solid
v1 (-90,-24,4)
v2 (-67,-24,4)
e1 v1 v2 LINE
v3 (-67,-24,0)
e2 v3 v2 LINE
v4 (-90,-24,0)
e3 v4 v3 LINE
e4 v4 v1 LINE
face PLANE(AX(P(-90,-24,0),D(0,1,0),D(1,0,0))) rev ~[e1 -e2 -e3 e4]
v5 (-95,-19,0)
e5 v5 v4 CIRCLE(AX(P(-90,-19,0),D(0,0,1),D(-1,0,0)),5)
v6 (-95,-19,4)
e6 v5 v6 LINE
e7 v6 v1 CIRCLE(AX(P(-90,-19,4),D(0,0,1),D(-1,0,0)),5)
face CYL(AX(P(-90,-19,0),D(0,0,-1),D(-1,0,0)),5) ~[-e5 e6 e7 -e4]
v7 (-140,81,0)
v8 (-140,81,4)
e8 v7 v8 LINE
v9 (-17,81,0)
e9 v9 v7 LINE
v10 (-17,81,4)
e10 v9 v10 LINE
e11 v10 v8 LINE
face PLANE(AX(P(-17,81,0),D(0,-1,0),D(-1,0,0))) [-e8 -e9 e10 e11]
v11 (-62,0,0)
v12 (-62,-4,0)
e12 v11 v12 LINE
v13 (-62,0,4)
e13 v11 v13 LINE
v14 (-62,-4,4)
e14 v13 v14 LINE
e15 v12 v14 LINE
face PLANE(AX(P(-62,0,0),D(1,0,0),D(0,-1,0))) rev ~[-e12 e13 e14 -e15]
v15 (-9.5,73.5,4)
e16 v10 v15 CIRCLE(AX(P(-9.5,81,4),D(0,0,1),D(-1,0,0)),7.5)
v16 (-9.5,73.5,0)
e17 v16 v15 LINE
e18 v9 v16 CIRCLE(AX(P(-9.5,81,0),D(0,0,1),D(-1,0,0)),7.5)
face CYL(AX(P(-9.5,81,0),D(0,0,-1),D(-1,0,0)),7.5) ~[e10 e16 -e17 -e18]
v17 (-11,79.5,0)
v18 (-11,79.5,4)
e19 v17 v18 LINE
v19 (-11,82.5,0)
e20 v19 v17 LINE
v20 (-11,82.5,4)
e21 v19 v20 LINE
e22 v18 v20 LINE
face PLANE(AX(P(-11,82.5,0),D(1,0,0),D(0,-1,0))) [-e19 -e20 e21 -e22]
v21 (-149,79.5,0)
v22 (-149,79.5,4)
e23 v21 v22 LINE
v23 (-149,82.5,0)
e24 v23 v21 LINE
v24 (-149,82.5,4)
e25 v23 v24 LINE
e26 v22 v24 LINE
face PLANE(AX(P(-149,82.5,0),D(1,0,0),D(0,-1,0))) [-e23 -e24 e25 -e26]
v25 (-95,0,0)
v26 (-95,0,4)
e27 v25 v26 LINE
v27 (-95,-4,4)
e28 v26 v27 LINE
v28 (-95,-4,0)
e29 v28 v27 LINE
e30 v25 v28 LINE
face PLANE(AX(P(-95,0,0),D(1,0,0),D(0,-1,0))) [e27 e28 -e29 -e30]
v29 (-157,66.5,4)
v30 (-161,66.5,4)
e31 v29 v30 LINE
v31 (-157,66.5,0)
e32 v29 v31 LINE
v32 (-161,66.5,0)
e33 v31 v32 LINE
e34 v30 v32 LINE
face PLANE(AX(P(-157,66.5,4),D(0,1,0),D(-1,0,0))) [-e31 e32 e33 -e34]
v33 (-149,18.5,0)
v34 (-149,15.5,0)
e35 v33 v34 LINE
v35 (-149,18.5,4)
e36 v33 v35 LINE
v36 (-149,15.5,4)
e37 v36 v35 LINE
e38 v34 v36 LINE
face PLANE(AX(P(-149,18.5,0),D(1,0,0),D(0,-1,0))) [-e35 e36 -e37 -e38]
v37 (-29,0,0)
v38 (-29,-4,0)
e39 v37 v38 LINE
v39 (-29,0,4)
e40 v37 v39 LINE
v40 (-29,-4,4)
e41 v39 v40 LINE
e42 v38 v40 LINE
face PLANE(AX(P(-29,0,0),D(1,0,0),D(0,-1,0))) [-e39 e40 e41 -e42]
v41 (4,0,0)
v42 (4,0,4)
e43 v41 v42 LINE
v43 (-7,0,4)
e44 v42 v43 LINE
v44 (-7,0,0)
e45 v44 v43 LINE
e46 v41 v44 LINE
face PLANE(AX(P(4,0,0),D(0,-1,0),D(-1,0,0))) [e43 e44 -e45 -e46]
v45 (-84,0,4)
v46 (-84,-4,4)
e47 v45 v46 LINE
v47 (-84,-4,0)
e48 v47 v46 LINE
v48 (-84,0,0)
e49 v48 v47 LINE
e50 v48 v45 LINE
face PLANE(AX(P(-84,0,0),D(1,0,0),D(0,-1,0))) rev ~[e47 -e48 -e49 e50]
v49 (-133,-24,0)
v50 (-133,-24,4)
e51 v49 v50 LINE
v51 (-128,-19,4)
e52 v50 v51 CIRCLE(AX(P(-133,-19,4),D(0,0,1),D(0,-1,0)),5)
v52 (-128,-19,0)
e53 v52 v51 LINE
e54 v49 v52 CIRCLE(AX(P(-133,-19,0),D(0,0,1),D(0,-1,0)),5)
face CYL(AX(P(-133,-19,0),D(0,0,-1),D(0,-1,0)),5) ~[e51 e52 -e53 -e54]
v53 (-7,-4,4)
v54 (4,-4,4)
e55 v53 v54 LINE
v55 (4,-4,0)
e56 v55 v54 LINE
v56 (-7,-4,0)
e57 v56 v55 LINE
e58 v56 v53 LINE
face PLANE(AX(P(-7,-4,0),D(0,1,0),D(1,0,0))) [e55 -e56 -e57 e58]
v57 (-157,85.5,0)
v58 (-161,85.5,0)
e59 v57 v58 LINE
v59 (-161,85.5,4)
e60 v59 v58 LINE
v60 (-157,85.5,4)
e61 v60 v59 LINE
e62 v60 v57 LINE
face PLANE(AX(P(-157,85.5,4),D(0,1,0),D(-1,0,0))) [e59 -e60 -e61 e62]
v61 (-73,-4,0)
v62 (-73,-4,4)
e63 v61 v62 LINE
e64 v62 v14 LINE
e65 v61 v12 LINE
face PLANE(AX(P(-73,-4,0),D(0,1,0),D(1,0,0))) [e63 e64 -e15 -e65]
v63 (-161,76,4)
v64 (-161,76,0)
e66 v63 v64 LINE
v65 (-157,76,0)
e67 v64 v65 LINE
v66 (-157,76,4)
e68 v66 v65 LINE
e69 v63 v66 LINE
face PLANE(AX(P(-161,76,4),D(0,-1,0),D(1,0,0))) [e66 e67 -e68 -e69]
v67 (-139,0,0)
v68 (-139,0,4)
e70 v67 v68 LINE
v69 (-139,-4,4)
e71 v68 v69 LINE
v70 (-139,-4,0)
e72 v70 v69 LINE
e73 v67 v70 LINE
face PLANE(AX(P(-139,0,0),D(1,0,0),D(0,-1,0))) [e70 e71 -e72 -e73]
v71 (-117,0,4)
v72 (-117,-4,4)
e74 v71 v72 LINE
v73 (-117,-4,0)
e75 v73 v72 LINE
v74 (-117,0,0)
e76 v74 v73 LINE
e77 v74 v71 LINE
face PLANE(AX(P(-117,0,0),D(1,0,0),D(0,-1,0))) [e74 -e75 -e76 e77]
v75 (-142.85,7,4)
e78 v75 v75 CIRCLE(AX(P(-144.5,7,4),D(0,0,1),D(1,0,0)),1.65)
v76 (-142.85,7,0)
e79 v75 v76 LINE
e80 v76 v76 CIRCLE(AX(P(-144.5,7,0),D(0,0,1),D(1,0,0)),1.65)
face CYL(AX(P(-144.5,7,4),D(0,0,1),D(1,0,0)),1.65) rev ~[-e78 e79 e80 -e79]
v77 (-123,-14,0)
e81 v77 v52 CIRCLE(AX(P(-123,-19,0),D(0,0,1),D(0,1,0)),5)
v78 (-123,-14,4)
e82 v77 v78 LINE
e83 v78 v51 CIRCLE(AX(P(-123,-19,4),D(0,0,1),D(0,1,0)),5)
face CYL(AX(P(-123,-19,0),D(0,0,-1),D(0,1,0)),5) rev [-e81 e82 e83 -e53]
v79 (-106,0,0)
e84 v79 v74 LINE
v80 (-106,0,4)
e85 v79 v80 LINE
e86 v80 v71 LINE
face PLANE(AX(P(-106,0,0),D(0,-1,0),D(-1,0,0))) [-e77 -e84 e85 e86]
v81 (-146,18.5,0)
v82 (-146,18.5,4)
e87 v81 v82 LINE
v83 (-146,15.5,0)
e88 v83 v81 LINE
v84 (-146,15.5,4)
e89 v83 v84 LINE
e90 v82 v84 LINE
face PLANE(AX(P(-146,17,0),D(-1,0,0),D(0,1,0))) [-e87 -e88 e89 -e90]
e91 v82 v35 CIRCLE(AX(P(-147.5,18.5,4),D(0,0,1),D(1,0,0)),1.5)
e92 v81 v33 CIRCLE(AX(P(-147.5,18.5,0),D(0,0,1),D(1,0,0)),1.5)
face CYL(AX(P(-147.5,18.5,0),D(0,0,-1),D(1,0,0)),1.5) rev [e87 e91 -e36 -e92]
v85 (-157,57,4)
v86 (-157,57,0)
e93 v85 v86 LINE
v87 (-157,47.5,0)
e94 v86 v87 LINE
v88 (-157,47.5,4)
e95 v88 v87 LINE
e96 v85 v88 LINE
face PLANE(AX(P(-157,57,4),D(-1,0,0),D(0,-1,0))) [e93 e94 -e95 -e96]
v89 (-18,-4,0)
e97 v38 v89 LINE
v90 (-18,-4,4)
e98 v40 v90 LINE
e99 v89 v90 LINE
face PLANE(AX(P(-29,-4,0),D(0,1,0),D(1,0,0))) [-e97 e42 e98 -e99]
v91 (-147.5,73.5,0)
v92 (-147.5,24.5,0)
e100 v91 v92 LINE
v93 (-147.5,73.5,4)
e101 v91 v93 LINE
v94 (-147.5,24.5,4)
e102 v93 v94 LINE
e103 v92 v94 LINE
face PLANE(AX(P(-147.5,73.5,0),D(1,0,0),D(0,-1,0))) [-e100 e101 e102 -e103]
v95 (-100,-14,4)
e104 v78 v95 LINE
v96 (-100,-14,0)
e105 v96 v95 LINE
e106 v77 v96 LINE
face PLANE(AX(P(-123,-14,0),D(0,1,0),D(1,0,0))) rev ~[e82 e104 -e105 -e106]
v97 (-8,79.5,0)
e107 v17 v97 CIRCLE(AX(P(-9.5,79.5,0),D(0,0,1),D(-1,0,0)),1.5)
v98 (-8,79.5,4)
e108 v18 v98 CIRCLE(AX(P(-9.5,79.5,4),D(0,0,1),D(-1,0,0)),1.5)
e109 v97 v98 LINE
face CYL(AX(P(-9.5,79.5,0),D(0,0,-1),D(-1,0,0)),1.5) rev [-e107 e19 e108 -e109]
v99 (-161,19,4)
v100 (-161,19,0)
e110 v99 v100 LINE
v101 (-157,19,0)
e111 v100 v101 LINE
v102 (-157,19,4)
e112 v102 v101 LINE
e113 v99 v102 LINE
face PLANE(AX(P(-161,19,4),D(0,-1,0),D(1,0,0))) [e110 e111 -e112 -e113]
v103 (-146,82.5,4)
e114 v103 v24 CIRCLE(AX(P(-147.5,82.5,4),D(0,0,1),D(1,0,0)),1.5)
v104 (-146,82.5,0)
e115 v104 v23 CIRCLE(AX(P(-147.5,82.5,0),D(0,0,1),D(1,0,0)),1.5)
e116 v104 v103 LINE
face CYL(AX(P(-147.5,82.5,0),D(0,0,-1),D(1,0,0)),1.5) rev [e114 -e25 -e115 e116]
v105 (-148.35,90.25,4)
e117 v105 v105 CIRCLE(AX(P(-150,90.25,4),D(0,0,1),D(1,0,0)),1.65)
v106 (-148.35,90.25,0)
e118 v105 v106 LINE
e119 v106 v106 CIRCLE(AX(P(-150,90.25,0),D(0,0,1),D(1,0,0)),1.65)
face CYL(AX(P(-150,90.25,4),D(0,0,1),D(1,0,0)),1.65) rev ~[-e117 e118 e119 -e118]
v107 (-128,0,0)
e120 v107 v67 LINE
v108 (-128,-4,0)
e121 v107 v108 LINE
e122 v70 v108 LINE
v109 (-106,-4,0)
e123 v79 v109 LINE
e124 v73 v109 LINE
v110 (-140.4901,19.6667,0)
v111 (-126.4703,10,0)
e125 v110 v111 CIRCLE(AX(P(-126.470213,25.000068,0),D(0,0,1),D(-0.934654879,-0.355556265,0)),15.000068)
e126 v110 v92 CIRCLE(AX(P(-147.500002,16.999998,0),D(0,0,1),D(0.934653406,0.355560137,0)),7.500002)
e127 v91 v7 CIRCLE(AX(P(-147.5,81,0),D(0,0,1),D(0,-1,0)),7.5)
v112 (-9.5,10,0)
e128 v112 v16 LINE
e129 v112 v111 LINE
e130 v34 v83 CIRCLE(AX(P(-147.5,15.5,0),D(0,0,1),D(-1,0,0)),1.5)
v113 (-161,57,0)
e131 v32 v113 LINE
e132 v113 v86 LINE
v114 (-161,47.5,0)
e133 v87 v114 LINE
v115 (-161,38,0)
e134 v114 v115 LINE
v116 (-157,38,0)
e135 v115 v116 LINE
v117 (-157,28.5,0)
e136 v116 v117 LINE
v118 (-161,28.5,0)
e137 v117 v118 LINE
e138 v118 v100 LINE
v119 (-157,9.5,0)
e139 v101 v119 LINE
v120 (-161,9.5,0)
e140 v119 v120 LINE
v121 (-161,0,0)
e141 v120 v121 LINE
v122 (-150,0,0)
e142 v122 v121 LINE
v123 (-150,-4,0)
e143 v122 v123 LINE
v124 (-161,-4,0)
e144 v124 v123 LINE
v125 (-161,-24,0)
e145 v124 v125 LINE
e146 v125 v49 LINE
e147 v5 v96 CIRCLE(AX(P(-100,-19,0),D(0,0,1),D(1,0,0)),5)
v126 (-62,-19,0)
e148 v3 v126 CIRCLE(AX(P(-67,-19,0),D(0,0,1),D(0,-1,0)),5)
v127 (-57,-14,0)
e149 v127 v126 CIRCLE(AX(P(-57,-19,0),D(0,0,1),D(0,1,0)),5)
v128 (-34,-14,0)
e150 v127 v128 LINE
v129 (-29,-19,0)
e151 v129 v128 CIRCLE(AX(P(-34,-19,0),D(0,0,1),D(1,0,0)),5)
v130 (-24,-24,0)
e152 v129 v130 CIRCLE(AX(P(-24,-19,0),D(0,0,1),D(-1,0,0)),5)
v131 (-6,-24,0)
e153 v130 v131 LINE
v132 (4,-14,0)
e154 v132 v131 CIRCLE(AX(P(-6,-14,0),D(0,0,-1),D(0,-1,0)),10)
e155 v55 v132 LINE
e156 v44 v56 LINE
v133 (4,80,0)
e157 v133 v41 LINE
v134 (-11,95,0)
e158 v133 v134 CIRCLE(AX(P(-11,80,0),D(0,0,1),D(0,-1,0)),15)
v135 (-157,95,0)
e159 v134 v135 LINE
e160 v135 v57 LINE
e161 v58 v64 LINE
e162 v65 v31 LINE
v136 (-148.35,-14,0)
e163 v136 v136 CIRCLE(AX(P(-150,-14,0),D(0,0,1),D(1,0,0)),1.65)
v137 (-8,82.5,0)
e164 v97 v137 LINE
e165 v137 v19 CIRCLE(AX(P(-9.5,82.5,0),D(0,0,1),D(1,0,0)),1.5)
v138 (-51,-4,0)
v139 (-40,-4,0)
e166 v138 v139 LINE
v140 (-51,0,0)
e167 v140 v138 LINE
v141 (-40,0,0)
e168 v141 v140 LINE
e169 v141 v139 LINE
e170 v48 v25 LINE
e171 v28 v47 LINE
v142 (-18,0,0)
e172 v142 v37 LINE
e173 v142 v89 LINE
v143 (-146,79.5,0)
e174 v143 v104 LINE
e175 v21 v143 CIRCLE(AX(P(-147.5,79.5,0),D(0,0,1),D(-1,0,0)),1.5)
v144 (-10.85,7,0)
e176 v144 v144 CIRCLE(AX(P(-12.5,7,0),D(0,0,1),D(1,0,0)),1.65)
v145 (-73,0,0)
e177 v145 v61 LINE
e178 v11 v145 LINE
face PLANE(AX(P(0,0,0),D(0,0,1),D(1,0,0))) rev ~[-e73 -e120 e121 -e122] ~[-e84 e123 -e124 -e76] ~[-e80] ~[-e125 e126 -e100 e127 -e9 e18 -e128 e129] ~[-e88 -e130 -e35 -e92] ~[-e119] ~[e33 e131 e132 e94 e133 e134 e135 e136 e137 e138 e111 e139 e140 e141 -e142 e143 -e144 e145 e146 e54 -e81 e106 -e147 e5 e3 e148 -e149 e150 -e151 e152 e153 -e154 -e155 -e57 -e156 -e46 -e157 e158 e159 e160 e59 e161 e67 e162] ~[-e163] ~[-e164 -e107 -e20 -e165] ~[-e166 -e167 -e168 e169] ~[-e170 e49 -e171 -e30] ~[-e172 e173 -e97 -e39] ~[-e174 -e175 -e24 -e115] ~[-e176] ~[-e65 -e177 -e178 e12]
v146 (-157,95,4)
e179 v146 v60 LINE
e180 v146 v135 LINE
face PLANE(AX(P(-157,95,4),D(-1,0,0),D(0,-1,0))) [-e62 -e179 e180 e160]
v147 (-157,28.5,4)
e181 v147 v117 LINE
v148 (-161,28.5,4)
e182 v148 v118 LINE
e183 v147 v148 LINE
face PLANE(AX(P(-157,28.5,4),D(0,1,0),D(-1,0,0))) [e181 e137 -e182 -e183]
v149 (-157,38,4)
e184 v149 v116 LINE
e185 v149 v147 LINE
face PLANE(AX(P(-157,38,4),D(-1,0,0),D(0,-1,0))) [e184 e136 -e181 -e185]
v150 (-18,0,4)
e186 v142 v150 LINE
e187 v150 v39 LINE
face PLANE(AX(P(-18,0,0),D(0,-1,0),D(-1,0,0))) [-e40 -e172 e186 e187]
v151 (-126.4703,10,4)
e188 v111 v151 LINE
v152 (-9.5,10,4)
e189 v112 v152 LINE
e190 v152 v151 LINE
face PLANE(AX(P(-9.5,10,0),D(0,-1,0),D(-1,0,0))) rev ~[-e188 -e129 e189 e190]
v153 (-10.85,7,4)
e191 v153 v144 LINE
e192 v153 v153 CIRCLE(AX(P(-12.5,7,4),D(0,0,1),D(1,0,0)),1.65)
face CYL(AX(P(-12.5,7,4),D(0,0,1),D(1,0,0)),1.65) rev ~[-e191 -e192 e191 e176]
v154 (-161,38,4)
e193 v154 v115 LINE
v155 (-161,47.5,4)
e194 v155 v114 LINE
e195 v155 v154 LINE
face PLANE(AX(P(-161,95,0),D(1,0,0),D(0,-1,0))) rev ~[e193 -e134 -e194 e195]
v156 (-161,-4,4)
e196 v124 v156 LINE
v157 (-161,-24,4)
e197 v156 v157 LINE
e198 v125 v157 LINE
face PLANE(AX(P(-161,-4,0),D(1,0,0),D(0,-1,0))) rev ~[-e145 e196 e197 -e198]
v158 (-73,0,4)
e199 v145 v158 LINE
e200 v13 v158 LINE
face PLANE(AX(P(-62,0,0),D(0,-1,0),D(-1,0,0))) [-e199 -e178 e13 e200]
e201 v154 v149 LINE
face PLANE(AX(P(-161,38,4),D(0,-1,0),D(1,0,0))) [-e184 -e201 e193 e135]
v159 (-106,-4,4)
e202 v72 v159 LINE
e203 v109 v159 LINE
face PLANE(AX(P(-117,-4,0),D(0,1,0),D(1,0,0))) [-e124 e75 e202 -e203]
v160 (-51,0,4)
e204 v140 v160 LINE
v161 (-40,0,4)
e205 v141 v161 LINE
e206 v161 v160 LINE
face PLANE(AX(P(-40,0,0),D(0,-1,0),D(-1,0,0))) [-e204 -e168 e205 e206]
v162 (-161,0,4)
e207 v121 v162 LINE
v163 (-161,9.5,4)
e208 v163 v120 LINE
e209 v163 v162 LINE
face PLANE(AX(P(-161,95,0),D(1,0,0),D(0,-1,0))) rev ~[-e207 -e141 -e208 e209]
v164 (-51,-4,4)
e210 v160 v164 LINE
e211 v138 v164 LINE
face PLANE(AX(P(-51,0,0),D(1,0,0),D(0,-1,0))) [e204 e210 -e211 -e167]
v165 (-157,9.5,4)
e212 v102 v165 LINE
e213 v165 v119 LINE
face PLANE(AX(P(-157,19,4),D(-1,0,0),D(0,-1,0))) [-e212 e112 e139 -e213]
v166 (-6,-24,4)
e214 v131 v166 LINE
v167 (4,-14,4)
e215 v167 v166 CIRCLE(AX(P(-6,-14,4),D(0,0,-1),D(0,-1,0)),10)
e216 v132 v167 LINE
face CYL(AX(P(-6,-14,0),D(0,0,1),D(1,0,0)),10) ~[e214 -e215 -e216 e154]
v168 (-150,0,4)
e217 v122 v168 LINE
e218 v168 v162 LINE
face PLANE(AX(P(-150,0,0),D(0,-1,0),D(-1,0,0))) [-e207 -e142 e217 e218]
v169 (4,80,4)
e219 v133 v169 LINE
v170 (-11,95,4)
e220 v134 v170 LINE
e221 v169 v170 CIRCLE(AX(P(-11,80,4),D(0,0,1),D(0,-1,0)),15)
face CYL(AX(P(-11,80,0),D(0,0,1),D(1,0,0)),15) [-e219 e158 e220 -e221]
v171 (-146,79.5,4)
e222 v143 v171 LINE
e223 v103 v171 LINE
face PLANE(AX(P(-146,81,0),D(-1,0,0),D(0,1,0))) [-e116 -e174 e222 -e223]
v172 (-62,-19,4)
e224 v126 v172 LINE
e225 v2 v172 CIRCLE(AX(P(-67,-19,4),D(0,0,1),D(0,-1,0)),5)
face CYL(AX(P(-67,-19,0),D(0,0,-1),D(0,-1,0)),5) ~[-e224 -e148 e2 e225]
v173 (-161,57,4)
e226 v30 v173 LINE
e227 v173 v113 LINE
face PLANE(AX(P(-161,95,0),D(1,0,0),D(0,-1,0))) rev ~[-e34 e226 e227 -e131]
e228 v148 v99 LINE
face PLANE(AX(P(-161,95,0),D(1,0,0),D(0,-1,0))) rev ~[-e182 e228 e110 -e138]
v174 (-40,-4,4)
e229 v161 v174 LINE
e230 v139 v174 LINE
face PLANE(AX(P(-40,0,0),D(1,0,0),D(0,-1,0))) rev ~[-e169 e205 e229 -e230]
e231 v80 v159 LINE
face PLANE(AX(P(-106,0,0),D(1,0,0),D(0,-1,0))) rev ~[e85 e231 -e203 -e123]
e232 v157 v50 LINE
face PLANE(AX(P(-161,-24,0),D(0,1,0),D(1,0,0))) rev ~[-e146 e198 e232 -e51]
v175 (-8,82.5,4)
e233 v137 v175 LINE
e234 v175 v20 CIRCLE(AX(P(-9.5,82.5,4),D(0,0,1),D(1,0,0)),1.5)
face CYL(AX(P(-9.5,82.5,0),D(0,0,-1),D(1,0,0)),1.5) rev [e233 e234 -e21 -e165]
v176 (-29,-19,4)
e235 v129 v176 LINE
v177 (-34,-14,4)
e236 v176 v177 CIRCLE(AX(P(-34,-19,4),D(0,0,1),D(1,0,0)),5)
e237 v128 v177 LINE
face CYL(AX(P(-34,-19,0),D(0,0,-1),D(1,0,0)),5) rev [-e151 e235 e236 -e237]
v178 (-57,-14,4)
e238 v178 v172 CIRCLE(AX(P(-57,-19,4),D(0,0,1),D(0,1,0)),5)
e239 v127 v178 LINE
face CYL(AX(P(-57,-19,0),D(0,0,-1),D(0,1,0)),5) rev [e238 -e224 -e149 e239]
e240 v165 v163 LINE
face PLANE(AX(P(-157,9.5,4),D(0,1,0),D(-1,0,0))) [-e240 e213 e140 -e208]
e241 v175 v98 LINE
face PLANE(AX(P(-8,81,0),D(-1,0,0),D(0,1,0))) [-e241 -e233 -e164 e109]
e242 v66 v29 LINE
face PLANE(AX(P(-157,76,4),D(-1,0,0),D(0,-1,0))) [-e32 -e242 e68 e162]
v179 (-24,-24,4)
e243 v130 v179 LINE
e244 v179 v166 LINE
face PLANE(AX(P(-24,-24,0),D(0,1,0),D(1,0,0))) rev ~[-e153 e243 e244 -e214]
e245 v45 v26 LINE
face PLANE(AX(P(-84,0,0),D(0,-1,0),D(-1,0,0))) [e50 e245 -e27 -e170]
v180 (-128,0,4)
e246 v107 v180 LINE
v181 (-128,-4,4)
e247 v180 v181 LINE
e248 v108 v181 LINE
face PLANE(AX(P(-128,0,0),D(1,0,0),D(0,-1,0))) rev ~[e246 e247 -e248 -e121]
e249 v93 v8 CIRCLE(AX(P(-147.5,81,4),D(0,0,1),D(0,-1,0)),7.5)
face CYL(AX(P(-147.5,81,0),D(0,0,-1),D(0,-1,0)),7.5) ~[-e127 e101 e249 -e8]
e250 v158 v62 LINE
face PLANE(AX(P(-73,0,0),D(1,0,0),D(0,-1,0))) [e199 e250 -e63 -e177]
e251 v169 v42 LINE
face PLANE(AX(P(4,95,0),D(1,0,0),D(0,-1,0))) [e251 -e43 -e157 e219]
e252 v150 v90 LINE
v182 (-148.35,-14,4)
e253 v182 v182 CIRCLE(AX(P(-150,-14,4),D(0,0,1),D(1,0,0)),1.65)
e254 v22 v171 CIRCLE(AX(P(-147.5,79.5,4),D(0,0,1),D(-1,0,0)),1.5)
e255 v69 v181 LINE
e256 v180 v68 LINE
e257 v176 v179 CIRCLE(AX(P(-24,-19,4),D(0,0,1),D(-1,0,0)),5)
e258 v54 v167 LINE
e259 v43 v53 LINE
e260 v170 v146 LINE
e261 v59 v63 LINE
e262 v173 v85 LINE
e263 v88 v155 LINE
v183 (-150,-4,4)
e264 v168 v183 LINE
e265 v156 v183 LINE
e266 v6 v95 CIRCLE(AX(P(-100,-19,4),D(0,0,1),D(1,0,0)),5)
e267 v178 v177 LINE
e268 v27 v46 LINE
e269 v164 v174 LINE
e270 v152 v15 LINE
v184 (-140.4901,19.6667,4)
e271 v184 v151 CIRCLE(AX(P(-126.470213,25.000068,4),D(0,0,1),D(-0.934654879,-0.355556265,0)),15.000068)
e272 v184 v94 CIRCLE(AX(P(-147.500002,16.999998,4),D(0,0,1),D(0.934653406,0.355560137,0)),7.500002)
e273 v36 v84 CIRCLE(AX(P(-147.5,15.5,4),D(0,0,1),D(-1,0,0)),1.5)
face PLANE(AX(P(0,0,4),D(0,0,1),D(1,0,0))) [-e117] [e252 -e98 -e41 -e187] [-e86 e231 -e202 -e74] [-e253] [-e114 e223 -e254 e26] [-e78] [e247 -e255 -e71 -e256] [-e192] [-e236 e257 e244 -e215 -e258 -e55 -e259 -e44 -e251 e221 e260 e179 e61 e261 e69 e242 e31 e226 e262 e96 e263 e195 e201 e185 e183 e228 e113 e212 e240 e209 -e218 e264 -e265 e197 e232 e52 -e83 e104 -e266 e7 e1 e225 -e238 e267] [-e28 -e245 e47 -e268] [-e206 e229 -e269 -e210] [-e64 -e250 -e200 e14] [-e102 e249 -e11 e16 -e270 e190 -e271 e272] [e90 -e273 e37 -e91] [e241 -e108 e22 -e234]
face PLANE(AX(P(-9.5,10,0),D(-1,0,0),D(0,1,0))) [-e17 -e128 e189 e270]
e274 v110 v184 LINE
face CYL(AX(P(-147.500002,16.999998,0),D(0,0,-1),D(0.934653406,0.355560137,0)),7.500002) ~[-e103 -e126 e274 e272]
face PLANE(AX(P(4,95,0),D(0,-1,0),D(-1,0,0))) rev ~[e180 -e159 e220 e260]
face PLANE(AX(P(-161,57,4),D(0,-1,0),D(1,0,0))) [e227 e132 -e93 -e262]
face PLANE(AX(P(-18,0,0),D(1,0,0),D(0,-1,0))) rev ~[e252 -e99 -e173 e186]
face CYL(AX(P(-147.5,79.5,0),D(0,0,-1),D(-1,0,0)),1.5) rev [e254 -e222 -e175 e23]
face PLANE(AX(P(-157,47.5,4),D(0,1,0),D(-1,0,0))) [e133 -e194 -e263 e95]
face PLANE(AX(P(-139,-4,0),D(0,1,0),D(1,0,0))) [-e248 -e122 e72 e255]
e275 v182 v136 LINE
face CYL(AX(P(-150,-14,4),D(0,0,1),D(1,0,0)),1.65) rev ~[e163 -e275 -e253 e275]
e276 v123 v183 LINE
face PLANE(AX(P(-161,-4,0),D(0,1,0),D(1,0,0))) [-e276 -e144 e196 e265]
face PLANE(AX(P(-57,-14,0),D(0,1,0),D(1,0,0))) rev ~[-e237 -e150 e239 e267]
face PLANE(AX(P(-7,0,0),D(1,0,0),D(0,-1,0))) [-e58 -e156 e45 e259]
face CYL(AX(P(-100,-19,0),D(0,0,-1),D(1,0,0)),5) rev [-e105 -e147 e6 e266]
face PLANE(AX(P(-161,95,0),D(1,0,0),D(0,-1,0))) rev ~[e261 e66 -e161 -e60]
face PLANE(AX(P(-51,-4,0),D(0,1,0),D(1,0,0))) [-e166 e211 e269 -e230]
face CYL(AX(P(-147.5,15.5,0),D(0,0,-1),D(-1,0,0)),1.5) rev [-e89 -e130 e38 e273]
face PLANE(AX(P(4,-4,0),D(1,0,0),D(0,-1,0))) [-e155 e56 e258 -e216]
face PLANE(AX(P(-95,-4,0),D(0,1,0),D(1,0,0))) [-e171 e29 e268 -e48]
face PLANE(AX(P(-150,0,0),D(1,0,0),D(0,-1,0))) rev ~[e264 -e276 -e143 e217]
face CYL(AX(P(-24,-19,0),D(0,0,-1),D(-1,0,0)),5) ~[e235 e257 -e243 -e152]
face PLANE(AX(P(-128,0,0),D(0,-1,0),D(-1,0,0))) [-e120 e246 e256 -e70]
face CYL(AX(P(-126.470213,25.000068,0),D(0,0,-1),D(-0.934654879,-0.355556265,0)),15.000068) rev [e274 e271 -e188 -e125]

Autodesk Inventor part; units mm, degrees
ref_plane "YZ Plane" through (0, 0, 0) normal (1, 0, 0) x (0, 1, 0)
ref_plane "XZ Plane" through (0, 0, 0) normal (0, 1, 0) x (-1, 0, 0)
ref_plane "XY Plane" through (0, 0, 0) normal (0, 0, 1) x (1, 0, 0)
sketch "Schizzo1" plane through (0, 0, 0) normal (0, 0, 1) x (1, 0, 0)
  line L0 (-152.5, 86) -> (-2.5, 86) construction
  line L1 (-152.5, 0) -> (-152.5, 86) construction
  line L2 (-2.5, 0) -> (-2.5, 86) construction
  circle A0 centre (-9.5, 81) radius 1.5 projected
  circle A1 centre (-147.5, 81) radius 1.5 projected
  circle A2 centre (-147.5, 17) radius 1.5 projected
  line L3 (4, 95) -> (-161, 95)
  line L4 (-161, -24) -> (-133, -24)
  line L5 (-128, -19) -> (-128, -19)
  line L6 (-123, -14) -> (-100, -14)
  line L7 (-95, -19) -> (-95, -19)
  line L8 (-90, -24) -> (-67, -24)
  line L9 (-62, -19) -> (-62, -19)
  line L10 (-57, -14) -> (-34, -14)
  line L11 (-29, -19) -> (-29, -19)
  line L12 (-24, -24) -> (4, -24)
  arc A3 (-133, -24) -> (-128, -19) centre (-133, -19) ccw
  arc A4 (-123, -14) -> (-128, -19) centre (-123, -19) ccw
  arc A5 (-95, -19) -> (-100, -14) centre (-100, -19) ccw
  arc A6 (-95, -19) -> (-90, -24) centre (-90, -19) ccw
  arc A7 (-67, -24) -> (-62, -19) centre (-67, -19) ccw
  arc A8 (-57, -14) -> (-62, -19) centre (-57, -19) ccw
  arc A9 (-29, -19) -> (-34, -14) centre (-34, -19) ccw
  arc A10 (-29, -19) -> (-24, -24) centre (-24, -19) ccw
  arc A11 (-17, 81) -> (-9.5, 73.5) centre (-9.5, 81) ccw
  arc A12 (-147.5, 73.5) -> (-140, 81) centre (-147.5, 81) ccw
  arc A13 (-140.4901, 19.6667) -> (-147.5, 24.5) centre (-147.5, 17) ccw
  line L13 (-147.5, 73.5) -> (-147.5, 24.5)
  line L14 (-17, 81) -> (-140, 81)
  line L15 (-9.5, 10) -> (-126.4703, 10)
  arc A14 (-140.4901, 19.6667) -> (-126.4703, 10) centre (-126.4703, 25) ccw
  line L16 (-9.5, 10) -> (-9.5, 73.5)
  line L17 (-161, 95) -> (-161, -24)
  line L18 (4, 95) -> (4, -24)
  line L19 (-161, -4) -> (-150, -4) projected
  line L20 (-150, 0) -> (-150, -4) projected
  line L21 (-150, 0) -> (-161, 0) projected
  line L22 (-161, 0) -> (-161, -4) projected
  line L23 (-139, -4) -> (-128, -4) projected
  line L24 (-128, 0) -> (-128, -4) projected
  line L25 (-128, 0) -> (-139, 0) projected
  line L26 (-139, 0) -> (-139, -4) projected
  line L27 (-117, -4) -> (-106, -4) projected
  line L28 (-106, 0) -> (-106, -4) projected
  line L29 (-106, 0) -> (-117, 0) projected
  line L30 (-117, 0) -> (-117, -4) projected
  line L31 (-95, -4) -> (-84, -4) projected
  line L32 (-84, 0) -> (-84, -4) projected
  line L33 (-84, 0) -> (-95, 0) projected
  line L34 (-95, 0) -> (-95, -4) projected
  line L35 (-73, -4) -> (-62, -4) projected
  line L36 (-62, 0) -> (-62, -4) projected
  line L37 (-62, 0) -> (-73, 0) projected
  line L38 (-73, 0) -> (-73, -4) projected
  line L39 (-51, -4) -> (-40, -4) projected
  line L40 (-40, 0) -> (-40, -4) projected
  line L41 (-40, 0) -> (-51, 0) projected
  line L42 (-51, 0) -> (-51, -4) projected
  line L43 (-29, -4) -> (-18, -4) projected
  line L44 (-18, 0) -> (-18, -4) projected
  line L45 (-18, 0) -> (-29, 0) projected
  line L46 (-29, 0) -> (-29, -4) projected
  line L47 (-7, -4) -> (4, -4) projected
  line L48 (-7, 0) -> (-7, -4) projected
  line L49 (-147.5, 82.5) -> (-147.5, 79.5) construction
  line L50 (-149, 82.5) -> (-149, 79.5)
  line L51 (-146, 79.5) -> (-146, 82.5)
  arc A15 (-146, 82.5) -> (-149, 82.5) centre (-147.5, 82.5) ccw
  arc A16 (-149, 79.5) -> (-146, 79.5) centre (-147.5, 79.5) ccw
  line L52 (-9.5, 82.5) -> (-9.5, 79.5) construction
  line L53 (-11, 82.5) -> (-11, 79.5)
  line L54 (-8, 79.5) -> (-8, 82.5)
  arc A17 (-8, 82.5) -> (-11, 82.5) centre (-9.5, 82.5) ccw
  arc A18 (-11, 79.5) -> (-8, 79.5) centre (-9.5, 79.5) ccw
  line L55 (-147.5, 18.5) -> (-147.5, 15.5) construction
  line L56 (-149, 18.5) -> (-149, 15.5)
  line L57 (-146, 15.5) -> (-146, 18.5)
  arc A19 (-146, 18.5) -> (-149, 18.5) centre (-147.5, 18.5) ccw
  arc A20 (-149, 15.5) -> (-146, 15.5) centre (-147.5, 15.5) ccw
  line L58 (4, 0) -> (4, -4) projected
  line L59 (4, 0) -> (-7, 0) projected
  point P0 (-128, -24)
  point P1 (-128, -14)
  point P2 (-95, -14)
  point P3 (-95, -24)
  point P4 (-62, -24)
  point P5 (-62, -14)
  point P6 (-29, -14)
  point P7 (-29, -24)
  point P8 (-144.8074, 10)
  dimension "d0" = 165
  dimension "d9" = 33
  dimension "d10" = 10
  dimension "d11" = 33
  dimension "d12" = 10
  dimension "d13" = 33
  dimension "d14" = 10
  dimension "d15" = 33
  dimension "d16" = 5
  dimension "d21" = 15
extrude "Estrusione1" add sketch "Schizzo1" along normal blind 4 contours L18 L59 L48 L47 L12 A10 A9 L10 A8 A7 L8 A6 A5 L6 A4 A3 L4 L17 L19 L20 L21 L3
sketch "Schizzo2" plane through (0, 0, 4) normal (0, 0, 1) x (1, 0, 0)
  line L0 (-157, 85.5) -> (-161, 85.5)
  line L1 (-161, 85.5) -> (-161, 95)
  line L2 (-161, 95) -> (-157, 95)
  line L3 (-157, 95) -> (-157, 85.5)
  line L4 (-157, 66.5) -> (-161, 66.5)
  line L5 (-161, 66.5) -> (-161, 76)
  line L6 (-161, 76) -> (-157, 76)
  line L7 (-157, 76) -> (-157, 66.5)
  line L8 (-161, 57) -> (-157, 57)
  line L9 (-157, 57) -> (-157, 47.5)
  line L10 (-157, 47.5) -> (-161, 47.5)
  line L11 (-161, 47.5) -> (-161, 57)
  line L12 (-157, 28.5) -> (-161, 28.5)
  line L13 (-161, 28.5) -> (-161, 38)
  line L14 (-161, 38) -> (-157, 38)
  line L15 (-157, 38) -> (-157, 28.5)
  line L16 (-161, 19) -> (-157, 19)
  line L17 (-157, 19) -> (-157, 9.5)
  line L18 (-157, 9.5) -> (-161, 9.5)
  line L19 (-161, 9.5) -> (-161, 19)
  point P0 (0, 0)
extrude "Estrusione2" cut sketch "Schizzo2" against normal blind 4
fillet "Raccordo1" radius 15 1 edges at (4, 95, 2)
fillet "Raccordo2" radius 10 1 edges at (4, -24, 2)
sketch "Schizzo3" plane through (0, 0, 4) normal (0, 0, 1) x (1, 0, 0)
  line L0 (-14.15, 0) -> (-10.85, 0) projected
  line L1 (-146.15, 0) -> (-142.85, 0) projected
  line L2 (-144.5, 0) -> (-144.5, 7) construction
  line L3 (-144.5, 0) -> (-137.5, 0) construction
  line L4 (-12.5, 0) -> (-12.5, 7) construction
  circle A0 centre (-144.5, 7) radius 1.65
  circle A1 centre (-12.5, 7) radius 1.65
  line L5 (-157, 82.4) -> (-157, 79.1) construction
  line L6 (-157, 85.5) -> (-157, 95) construction
  line L7 (-157, 95) -> (-157, 85.5) projected
  line L8 (-157, 90.25) -> (-150, 90.25) construction
  circle A2 centre (-150, 90.25) radius 1.65
  line L9 (-157, -12.35) -> (-157, -15.65) construction
  line L10 (-157, -14) -> (-150, -14) construction
  circle A3 centre (-150, -14) radius 1.65
  point P0 (0, 0)
  dimension "d28" = 7
  dimension "d29" = 90
  dimension "d30" = 7
  dimension "d31" = 3.3
  dimension "d32" = 3.3
  dimension "d35" = 7
  dimension "d36" = 3.3
  dimension "d37" = 7
  dimension "d38" = 3.3
extrude "Estrusione3" cut sketch "Schizzo3" against normal blind 4
properties part number "LatoAlimentatore"
